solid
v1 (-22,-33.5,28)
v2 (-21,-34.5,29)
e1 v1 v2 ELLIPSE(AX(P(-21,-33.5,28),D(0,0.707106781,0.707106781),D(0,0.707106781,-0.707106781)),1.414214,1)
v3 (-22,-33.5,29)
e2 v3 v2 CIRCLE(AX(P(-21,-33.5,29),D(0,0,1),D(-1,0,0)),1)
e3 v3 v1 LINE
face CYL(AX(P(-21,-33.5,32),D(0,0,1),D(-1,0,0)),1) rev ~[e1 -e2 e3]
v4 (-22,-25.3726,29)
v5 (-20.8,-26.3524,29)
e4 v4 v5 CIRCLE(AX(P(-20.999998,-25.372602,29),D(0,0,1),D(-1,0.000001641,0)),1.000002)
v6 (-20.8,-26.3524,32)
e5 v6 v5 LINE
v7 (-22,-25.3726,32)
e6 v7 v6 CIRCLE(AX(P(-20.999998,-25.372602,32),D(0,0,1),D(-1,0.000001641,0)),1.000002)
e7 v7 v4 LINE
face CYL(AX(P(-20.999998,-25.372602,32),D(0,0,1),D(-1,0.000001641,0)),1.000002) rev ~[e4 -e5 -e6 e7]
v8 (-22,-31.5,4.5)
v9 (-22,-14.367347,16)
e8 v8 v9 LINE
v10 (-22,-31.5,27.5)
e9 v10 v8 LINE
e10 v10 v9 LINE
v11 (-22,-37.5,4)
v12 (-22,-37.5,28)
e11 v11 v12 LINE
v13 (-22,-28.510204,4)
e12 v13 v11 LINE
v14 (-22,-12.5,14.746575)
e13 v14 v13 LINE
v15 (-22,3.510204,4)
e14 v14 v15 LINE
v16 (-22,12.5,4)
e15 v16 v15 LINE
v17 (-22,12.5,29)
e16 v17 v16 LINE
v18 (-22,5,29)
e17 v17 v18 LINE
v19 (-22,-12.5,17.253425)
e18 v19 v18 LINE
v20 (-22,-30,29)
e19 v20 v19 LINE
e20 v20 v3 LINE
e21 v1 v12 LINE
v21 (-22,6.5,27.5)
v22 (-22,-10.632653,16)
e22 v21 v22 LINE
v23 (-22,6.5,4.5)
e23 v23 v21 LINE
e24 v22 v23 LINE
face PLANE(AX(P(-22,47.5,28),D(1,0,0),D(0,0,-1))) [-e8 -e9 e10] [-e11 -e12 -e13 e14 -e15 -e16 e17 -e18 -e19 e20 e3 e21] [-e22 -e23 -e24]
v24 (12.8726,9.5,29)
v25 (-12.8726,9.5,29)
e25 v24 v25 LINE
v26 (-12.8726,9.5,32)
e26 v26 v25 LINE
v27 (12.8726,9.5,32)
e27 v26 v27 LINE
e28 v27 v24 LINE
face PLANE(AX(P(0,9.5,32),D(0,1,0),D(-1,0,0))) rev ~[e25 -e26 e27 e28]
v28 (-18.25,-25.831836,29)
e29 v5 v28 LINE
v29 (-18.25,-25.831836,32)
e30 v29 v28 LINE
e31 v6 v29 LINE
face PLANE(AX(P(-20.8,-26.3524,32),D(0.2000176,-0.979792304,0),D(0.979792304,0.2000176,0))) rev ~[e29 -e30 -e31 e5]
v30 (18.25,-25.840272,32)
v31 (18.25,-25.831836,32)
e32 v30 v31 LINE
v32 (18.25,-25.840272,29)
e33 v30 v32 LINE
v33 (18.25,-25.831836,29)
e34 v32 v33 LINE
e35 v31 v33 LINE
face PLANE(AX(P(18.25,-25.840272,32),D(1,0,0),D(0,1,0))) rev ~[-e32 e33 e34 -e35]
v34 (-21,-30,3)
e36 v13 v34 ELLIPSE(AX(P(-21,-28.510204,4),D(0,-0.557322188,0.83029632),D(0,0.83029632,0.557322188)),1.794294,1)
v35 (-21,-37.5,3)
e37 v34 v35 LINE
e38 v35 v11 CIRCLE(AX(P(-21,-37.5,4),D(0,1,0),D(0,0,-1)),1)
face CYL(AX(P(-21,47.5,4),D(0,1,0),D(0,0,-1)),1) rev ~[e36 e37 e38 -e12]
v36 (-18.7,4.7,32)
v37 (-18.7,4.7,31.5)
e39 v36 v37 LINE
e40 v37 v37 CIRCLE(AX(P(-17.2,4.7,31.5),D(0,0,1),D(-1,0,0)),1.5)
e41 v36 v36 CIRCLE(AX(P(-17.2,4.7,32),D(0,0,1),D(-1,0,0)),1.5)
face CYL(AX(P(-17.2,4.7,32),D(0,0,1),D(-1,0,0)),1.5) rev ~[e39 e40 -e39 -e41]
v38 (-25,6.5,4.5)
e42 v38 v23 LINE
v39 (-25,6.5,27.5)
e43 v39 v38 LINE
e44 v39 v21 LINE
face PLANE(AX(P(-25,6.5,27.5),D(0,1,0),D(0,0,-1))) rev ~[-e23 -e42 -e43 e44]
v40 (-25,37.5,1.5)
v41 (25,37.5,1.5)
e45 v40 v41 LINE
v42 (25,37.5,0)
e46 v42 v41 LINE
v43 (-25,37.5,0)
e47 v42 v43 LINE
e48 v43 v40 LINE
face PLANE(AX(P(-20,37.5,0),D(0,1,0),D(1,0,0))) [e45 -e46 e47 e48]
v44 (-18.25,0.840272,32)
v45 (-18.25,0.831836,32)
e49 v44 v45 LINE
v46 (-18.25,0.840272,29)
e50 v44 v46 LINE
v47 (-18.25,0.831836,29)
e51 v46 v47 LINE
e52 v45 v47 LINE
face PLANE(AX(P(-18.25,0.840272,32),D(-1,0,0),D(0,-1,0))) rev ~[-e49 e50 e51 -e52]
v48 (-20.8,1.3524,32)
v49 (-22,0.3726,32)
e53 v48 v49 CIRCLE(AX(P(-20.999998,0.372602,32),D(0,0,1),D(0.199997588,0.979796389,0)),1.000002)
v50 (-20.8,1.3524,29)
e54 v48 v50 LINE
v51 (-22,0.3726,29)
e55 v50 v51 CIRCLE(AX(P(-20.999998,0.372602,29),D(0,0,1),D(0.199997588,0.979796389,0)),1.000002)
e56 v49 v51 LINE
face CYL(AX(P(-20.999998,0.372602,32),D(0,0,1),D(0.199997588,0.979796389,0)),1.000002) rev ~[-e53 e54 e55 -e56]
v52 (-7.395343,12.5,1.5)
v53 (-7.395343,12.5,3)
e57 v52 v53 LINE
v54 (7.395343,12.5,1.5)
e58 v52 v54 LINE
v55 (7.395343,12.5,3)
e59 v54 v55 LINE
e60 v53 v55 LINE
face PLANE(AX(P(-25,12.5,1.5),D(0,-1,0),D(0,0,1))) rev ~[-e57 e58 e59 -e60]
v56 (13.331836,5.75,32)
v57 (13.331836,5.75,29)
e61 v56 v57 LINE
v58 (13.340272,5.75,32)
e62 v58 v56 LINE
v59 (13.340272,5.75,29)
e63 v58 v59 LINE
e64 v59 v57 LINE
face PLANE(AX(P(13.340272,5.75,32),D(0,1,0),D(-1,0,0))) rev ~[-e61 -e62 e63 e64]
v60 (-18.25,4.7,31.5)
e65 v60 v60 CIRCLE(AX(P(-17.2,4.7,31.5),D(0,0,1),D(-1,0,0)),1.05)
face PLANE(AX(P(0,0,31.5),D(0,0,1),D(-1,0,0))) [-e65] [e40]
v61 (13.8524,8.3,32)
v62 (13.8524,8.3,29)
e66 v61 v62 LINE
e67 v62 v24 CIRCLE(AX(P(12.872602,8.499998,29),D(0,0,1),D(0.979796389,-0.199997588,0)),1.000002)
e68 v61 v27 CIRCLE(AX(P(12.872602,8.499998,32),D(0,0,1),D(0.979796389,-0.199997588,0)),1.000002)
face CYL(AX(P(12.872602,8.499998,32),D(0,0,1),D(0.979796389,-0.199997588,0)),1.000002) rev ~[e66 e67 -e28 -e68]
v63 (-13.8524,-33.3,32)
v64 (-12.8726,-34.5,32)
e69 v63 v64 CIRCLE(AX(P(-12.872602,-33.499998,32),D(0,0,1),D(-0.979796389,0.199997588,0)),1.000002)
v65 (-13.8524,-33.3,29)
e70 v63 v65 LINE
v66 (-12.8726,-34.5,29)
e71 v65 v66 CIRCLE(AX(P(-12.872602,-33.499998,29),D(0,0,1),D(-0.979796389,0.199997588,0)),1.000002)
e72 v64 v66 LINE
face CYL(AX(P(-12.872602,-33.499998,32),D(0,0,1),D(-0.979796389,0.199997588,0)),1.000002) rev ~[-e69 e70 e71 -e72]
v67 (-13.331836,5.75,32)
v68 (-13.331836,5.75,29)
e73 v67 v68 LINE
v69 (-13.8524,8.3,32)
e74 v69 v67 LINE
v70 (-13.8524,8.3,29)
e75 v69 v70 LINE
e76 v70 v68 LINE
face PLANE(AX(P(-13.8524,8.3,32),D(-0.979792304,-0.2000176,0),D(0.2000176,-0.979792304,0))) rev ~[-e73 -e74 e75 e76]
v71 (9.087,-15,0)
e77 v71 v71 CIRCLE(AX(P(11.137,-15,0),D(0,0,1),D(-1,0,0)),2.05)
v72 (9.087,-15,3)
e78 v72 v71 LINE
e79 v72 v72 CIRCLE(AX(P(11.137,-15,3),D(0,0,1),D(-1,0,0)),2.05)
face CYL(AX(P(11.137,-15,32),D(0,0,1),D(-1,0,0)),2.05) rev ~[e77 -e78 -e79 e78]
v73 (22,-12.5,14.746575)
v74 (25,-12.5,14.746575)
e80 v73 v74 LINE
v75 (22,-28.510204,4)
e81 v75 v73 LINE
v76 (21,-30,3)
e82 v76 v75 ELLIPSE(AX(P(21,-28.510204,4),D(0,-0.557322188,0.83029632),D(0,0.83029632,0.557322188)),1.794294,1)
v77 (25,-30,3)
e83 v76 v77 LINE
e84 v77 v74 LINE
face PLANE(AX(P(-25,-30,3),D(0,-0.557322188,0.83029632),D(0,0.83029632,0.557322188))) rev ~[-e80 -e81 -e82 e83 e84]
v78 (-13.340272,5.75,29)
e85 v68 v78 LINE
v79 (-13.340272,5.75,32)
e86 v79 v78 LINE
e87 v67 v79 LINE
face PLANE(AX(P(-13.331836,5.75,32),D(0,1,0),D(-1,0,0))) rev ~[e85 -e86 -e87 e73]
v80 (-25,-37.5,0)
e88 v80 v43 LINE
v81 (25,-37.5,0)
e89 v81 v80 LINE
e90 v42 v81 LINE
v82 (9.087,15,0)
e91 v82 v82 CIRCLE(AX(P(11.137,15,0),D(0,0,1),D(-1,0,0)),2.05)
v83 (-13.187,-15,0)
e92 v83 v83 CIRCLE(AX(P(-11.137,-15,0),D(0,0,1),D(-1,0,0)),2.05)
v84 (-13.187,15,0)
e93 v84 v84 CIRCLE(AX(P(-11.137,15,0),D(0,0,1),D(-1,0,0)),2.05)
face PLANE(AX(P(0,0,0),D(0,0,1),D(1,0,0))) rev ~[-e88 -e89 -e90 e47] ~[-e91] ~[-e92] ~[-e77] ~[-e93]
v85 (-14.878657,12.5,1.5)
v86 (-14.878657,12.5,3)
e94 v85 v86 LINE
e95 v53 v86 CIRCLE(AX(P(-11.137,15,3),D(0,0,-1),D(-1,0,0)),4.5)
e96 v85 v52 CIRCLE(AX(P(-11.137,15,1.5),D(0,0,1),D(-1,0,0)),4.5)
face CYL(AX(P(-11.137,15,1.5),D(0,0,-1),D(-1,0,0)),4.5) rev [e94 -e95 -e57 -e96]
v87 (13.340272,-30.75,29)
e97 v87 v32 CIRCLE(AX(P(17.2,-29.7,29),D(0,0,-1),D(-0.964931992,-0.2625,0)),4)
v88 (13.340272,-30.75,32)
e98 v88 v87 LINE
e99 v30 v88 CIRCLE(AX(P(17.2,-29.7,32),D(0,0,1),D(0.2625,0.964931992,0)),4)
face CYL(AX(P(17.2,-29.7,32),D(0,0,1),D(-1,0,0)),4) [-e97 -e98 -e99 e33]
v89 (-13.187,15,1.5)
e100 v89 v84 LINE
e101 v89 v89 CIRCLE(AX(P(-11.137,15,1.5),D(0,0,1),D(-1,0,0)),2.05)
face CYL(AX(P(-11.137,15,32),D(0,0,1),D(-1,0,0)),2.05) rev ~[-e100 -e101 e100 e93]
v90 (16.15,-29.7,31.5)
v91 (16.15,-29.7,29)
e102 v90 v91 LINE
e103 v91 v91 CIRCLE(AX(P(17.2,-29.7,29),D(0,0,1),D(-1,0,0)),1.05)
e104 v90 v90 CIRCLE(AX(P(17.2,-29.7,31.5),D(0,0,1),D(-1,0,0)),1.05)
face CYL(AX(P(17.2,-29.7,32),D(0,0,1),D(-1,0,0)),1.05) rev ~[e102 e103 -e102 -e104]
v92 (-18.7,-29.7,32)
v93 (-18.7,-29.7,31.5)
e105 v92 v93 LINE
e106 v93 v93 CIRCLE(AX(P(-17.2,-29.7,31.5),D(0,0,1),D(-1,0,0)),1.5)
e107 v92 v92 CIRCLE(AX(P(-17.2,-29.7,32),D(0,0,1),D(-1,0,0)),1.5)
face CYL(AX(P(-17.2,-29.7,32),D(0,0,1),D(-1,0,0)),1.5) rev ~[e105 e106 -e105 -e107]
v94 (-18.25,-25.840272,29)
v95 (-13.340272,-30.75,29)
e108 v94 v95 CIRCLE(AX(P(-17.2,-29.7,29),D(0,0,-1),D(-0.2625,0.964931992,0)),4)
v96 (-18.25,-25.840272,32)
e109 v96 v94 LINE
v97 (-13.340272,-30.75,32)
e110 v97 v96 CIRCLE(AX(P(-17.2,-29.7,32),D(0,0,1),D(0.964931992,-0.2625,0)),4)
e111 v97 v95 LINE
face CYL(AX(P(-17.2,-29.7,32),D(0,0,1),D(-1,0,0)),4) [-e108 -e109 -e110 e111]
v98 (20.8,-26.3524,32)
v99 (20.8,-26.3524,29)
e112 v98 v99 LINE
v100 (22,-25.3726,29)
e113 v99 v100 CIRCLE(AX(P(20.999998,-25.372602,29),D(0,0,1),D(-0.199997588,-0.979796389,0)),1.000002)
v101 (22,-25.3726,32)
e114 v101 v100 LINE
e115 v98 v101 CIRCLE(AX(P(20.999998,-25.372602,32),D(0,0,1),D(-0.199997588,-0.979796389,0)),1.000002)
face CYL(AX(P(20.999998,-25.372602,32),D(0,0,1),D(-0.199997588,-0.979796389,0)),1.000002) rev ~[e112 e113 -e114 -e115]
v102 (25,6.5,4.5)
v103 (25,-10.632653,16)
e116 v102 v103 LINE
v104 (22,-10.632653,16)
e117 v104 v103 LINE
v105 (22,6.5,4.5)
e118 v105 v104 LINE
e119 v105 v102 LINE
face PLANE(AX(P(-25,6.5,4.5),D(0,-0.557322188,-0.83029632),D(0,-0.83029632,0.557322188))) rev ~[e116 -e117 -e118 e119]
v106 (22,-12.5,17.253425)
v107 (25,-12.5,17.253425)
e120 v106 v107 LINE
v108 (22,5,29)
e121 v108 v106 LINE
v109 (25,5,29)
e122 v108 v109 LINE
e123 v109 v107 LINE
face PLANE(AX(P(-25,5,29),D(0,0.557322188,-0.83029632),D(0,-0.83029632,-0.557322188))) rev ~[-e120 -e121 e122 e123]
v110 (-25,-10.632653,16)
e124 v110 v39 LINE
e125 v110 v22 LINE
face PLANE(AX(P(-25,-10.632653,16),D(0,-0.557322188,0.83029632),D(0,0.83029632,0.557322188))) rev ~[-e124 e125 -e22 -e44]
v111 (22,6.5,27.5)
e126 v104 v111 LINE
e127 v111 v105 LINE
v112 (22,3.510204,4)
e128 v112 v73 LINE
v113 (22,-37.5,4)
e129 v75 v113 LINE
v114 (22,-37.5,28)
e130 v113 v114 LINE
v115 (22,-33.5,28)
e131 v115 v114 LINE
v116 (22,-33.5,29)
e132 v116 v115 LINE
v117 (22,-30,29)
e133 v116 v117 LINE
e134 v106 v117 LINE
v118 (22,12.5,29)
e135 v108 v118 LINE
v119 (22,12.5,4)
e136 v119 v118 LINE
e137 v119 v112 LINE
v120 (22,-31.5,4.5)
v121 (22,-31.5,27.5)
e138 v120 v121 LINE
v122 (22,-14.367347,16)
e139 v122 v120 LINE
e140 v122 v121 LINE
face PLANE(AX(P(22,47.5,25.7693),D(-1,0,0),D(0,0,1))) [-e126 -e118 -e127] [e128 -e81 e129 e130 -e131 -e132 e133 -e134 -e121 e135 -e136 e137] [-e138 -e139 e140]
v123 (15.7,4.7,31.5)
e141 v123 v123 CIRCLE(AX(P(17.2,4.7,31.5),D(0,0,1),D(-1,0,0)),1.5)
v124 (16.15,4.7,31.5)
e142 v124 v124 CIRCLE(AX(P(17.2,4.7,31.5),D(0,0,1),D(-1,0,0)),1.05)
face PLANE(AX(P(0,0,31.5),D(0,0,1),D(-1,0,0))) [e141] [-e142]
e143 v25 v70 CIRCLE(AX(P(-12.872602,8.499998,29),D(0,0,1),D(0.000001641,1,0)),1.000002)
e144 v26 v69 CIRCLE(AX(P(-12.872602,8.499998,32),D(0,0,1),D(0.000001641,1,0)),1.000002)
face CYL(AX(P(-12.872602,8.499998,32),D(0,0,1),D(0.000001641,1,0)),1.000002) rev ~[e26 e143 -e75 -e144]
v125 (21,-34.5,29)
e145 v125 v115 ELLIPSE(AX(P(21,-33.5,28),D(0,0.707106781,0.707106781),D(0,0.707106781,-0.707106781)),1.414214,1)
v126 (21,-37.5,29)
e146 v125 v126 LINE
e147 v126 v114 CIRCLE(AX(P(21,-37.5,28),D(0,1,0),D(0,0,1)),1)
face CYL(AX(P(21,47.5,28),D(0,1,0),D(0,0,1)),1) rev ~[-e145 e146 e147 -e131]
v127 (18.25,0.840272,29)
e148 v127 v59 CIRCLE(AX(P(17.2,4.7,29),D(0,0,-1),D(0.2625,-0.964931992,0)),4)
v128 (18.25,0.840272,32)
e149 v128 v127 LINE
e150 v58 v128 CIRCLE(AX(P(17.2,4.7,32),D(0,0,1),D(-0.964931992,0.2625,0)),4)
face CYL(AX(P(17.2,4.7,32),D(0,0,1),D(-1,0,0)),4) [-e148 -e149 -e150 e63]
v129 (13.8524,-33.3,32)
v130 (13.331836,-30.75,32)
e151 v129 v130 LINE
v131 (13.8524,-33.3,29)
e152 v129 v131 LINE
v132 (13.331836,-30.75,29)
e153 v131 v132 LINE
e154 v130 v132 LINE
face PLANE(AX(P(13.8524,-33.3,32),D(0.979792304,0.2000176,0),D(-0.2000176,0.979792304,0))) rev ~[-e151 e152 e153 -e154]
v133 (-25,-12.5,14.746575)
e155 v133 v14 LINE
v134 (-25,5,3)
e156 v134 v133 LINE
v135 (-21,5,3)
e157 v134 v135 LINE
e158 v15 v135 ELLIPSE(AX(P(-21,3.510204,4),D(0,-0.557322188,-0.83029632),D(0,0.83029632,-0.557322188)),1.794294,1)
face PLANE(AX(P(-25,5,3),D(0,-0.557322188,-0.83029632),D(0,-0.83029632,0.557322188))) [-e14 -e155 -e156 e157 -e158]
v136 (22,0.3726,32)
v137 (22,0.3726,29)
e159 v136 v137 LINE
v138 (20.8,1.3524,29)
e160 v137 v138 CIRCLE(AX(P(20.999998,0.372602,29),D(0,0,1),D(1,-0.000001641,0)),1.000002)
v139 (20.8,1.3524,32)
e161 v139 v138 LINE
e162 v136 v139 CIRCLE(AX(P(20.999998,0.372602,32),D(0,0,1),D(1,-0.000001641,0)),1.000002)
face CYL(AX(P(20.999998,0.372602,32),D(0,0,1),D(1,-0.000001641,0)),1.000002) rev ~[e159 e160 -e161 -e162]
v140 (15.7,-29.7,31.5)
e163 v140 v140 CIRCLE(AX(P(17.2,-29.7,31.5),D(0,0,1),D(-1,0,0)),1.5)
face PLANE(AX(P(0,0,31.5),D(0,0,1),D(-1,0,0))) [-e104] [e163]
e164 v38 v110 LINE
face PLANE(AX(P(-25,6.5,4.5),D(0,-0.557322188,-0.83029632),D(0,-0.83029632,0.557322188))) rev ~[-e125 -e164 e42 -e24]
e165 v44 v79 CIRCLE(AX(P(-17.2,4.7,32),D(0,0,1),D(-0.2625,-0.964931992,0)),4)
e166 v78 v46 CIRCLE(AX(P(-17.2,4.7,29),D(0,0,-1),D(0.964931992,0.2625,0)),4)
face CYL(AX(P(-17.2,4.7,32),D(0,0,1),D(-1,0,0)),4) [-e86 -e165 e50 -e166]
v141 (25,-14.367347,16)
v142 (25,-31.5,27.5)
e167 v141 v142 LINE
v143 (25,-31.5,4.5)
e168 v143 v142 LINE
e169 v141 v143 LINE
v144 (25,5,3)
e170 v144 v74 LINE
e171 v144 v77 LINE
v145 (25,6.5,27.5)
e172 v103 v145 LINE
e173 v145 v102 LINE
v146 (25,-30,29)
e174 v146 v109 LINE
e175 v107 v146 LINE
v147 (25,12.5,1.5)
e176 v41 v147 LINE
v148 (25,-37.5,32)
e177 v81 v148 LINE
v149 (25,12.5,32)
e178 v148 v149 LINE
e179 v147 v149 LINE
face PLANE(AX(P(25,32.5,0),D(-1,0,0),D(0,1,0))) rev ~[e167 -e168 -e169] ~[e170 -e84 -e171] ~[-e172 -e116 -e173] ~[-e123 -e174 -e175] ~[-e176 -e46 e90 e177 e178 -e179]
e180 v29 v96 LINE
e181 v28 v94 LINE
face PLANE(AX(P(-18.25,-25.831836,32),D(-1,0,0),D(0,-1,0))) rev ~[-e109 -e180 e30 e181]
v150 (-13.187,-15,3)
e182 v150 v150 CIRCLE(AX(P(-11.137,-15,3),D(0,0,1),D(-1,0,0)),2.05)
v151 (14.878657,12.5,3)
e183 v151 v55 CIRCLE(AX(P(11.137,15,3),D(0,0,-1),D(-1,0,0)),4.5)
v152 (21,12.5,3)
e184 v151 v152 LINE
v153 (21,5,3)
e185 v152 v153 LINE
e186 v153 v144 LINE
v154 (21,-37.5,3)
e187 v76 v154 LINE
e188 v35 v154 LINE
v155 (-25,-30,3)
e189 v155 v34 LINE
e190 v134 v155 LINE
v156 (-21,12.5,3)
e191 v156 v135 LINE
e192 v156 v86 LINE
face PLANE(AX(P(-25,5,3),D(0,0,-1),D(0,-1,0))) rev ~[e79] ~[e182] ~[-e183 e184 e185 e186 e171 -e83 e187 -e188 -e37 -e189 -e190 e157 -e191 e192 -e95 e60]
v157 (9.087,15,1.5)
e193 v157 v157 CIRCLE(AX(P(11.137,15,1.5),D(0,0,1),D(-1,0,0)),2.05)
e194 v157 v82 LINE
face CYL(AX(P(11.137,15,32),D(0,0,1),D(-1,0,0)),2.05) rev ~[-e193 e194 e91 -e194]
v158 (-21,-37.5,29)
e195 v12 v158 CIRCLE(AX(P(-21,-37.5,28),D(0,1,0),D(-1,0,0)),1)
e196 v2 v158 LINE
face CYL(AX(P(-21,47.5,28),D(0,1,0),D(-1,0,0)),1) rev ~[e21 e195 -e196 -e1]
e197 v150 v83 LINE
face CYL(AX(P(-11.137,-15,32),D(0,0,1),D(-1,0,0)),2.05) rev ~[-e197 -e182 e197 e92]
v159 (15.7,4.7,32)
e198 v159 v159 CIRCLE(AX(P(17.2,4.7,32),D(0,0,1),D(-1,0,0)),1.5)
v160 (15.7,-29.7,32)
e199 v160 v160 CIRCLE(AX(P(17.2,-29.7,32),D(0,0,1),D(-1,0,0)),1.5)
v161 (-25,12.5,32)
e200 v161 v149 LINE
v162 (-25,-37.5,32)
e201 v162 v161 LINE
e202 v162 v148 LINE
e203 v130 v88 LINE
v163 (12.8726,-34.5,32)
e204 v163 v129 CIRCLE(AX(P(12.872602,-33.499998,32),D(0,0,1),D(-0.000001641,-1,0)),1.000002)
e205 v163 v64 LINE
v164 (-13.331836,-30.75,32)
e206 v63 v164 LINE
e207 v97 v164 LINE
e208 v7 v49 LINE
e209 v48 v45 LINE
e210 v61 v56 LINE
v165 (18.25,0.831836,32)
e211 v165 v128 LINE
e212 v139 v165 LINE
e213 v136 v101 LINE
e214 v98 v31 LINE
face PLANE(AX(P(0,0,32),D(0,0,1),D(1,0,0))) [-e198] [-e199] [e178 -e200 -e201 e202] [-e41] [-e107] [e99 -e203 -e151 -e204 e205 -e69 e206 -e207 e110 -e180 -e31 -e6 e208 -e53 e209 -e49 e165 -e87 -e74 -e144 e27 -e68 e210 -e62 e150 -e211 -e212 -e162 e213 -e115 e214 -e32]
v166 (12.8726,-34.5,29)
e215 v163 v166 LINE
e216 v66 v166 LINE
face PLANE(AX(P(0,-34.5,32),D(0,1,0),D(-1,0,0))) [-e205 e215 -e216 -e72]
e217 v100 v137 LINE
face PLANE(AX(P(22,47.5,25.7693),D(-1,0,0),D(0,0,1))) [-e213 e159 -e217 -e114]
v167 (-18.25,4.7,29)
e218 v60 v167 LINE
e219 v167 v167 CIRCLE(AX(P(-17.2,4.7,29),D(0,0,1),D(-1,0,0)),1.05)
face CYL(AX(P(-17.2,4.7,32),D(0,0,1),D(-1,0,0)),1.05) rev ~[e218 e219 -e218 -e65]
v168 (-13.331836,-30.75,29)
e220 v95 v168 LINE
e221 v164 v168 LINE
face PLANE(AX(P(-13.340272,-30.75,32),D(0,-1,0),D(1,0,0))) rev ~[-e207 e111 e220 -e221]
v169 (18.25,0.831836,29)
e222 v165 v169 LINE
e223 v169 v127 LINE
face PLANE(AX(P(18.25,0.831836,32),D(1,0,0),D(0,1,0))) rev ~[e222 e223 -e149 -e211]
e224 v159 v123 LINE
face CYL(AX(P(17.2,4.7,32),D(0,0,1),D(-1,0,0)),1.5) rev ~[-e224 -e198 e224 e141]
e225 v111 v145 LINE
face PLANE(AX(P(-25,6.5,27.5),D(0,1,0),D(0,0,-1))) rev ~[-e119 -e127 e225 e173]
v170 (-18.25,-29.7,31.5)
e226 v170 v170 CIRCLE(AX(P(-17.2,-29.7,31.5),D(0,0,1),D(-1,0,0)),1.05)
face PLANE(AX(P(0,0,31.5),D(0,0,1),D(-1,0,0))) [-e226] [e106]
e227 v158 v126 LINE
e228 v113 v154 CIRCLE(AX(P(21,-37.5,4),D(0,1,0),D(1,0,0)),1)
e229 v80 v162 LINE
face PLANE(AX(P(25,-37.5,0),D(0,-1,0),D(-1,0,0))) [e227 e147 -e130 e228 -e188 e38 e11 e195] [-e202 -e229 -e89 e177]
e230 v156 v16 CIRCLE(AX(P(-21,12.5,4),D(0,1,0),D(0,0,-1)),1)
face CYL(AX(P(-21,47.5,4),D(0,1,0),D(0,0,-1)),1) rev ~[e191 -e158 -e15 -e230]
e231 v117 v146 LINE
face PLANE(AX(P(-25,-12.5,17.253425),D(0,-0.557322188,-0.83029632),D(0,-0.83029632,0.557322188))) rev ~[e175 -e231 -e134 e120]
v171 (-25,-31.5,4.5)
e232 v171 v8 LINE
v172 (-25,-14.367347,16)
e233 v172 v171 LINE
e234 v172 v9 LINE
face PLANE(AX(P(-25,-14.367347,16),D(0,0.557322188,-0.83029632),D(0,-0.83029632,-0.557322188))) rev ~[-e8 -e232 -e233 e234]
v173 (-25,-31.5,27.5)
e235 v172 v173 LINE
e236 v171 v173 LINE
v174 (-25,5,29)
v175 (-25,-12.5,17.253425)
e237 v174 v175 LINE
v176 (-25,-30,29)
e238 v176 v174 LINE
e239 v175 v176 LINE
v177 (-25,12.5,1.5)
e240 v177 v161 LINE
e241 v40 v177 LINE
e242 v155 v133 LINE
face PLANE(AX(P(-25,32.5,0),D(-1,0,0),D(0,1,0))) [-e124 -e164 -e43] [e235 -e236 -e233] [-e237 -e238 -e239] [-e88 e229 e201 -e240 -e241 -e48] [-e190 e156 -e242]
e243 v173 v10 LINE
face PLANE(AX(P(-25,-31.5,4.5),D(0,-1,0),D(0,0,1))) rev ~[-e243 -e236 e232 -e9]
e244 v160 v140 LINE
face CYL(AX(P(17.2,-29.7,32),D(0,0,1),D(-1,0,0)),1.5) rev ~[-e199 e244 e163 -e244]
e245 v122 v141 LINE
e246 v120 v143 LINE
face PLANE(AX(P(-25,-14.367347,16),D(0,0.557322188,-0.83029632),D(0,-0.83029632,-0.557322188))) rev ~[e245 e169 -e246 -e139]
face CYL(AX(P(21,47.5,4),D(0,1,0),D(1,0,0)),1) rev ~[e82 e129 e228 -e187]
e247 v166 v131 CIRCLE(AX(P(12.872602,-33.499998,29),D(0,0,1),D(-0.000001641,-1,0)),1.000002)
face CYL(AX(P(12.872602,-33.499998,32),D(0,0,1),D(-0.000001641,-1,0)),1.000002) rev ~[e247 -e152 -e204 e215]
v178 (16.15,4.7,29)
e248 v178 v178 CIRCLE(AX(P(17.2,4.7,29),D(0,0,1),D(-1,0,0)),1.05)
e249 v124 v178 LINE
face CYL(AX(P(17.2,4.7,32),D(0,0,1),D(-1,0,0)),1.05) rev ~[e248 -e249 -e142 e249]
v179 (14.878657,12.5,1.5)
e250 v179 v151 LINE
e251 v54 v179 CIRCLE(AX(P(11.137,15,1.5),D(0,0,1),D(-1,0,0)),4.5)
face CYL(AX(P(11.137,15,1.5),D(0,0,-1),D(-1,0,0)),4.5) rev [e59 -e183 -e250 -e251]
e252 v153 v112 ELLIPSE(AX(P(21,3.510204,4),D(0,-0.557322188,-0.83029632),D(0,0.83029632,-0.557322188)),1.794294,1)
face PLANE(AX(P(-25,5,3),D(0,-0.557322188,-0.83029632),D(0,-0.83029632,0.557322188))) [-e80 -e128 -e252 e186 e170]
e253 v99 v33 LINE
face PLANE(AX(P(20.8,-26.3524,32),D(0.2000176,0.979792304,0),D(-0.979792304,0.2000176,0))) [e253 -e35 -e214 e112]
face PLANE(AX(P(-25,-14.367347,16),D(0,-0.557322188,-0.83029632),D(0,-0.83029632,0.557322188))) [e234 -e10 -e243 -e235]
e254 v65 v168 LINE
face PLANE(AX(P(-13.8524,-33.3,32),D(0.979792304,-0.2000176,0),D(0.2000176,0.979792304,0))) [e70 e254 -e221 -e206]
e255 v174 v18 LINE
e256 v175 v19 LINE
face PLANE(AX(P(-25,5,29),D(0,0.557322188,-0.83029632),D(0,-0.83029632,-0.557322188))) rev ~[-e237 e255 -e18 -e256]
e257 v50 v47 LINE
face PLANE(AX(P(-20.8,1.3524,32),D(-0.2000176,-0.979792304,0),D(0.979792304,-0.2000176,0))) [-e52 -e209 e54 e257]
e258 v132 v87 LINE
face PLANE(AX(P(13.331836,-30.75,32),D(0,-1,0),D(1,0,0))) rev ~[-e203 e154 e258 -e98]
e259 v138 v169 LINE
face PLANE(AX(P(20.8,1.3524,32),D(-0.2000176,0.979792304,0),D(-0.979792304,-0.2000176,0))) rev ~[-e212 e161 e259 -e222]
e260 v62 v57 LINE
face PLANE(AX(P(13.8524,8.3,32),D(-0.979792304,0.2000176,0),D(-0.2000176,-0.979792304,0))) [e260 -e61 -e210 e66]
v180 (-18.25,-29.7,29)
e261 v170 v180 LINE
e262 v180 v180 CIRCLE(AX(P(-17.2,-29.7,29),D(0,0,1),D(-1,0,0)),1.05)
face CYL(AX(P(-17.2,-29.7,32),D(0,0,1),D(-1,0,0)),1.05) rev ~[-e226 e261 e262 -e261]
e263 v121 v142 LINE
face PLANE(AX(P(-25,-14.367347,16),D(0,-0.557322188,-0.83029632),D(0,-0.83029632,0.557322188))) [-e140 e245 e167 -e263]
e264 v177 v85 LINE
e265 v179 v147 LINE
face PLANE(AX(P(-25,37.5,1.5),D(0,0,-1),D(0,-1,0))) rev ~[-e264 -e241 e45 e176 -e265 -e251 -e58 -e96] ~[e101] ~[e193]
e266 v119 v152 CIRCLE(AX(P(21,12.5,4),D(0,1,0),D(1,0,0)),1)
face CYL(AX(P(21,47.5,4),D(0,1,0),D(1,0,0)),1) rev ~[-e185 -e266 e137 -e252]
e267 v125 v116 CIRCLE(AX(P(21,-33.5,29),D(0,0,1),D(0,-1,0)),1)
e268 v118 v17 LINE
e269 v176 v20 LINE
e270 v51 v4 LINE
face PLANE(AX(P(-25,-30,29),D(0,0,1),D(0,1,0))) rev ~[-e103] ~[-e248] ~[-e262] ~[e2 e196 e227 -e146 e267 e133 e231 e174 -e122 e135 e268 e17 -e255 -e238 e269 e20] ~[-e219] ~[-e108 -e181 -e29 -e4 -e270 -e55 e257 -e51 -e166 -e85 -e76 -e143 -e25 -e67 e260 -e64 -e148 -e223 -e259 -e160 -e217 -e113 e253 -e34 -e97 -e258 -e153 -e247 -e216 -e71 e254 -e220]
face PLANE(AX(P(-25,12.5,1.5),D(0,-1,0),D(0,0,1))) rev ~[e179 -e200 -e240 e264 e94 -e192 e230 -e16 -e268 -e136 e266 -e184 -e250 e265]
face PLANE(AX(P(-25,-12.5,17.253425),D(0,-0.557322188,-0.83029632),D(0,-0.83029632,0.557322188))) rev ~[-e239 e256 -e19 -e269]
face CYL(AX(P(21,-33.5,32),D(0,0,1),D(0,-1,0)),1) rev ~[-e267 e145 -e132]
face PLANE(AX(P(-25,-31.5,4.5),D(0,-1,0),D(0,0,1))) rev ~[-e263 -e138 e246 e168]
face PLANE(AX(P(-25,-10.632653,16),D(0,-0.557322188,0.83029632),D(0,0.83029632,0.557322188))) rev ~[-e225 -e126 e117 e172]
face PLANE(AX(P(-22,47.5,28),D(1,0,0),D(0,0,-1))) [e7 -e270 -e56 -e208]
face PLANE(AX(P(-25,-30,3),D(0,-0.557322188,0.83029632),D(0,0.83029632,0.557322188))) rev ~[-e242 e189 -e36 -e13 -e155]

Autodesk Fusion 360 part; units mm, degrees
sketch "Esboço1" plane through (0, 0, 0) normal (0, 0, 1) x (1, 0, 0)
  line L0 (-20, 37.5) -> (20, 37.5)
  line L1 (25, 32.5) -> (25, -37.5)
  line L2 (25, -37.5) -> (-25, -37.5)
  line L3 (-25, -37.5) -> (-25, 32.5)
  line L4 (-25, 37.5) -> (25, -37.5) construction
  line L5 (25, 37.5) -> (-25, -37.5) construction
  line L6 (-25, 32.5) -> (-25, 37.5)
  line L7 (-20, 37.5) -> (-25, 37.5)
  line L8 (20, 37.5) -> (25, 37.5)
  line L9 (25, 32.5) -> (25, 37.5)
  dimension "d1" = 50
  dimension "d2" = 75
extrude "Extrusão1" add sketch "Esboço1" along normal blind 32
sketch "Esboço2" plane through (0, 0, 32) normal (0, 0, 1) x (-1, 0, 0)
  line L0 (-25, 37.5) -> (-25, -37.5)
  line L1 (-25, -37.5) -> (25, -37.5)
  line L2 (25, -37.5) -> (25, 37.5)
  line L3 (25, 37.5) -> (-25, 37.5)
  circle A0 centre (11.137, -15) radius 2.05
  circle A1 centre (-11.137, -15) radius 2.05
  circle A2 centre (11.137, 15) radius 2.05
  circle A3 centre (-11.137, 15) radius 2.05
  dimension "d6" = 4.1
  dimension "d7" = 4.1
  dimension "d8" = 4.1
  dimension "d9" = 4.1
  dimension "d10" = 22.274
  dimension "d11" = 13.863
  dimension "d12" = 13.863
  dimension "d13" = 22.274
  dimension "d14" = 30
  dimension "d15" = 22.5
extrude "Extrusão2" cut sketch "Esboço2" against normal blind 45 contours A0 | A1 | A2 | A3
ref_plane "Plano de trabalho3" through (0, 47.5, 16) normal (0, 1, 0) x (-1, 0, 0)
sketch "Esboço9" plane through (0, 47.5, 0) normal (0, 1, 0) x (-1, 0, 0)
  line L0 (-25, 0) -> (25, 0)
  line L1 (25, 0) -> (25, 32)
  line L2 (25, 32) -> (-25, 32)
  line L3 (-25, 32) -> (-25, 0)
  line L4 (16.763, 29) -> (-16.763, 29)
  line L5 (-22, 25.7693) -> (-22, 6.2307)
  line L6 (-16.763, 3) -> (16.763, 3)
  line L7 (21, 3) -> (-21, 3)
  line L8 (-22, 4) -> (-22, 28)
  line L9 (-21, 29) -> (21, 29)
  line L10 (22, 28) -> (22, 4)
  arc A0 (-21, 29) -> (-22, 28) centre (-21, 28) ccw
  arc A1 (22, 28) -> (21, 29) centre (21, 28) ccw
  arc A2 (21, 3) -> (22, 4) centre (21, 4) ccw
  arc A3 (-22, 4) -> (-21, 3) centre (-21, 4) ccw
  line L11 (-25, 0) -> (25, 0)
  line L12 (25, 0) -> (25, 32)
  line L13 (25, 32) -> (-25, 32)
  line L14 (-25, 32) -> (-25, 0)
  dimension "d156" = 1
extrude "Extrusão9" cut sketch "Esboço9" against normal blind 96 contours L4 L5 L6 L7 L8 L9 L10 A0 A1 A2 A3
sketch "Esboço12" plane through (0, 0, 32) normal (0, 0, 1) x (-1, 0, 0)
  circle A0 centre (11.137, -15) radius 2.05
  circle A1 centre (11.137, 15) radius 2.05
  circle A2 centre (-11.137, -15) radius 2.05
  circle A3 centre (-11.137, 15) radius 2.05
  line L0 (-25, 37.5) -> (-25, -37.5)
  line L1 (-25, -37.5) -> (25, -37.5)
  line L2 (25, -37.5) -> (25, 37.5)
  line L3 (25, 37.5) -> (-25, 37.5)
  line L4 (21, 34.5) -> (-21, 34.5)
  line L5 (-22, 33.5) -> (-22, -33.5)
  line L6 (-21, -34.5) -> (21, -34.5)
  line L7 (22, -33.5) -> (22, 33.5)
  line L8 (22, 34.5) -> (-22, -34.5) construction
  line L9 (-22, 34.5) -> (22, -34.5) construction
  arc A4 (-21, 34.5) -> (-22, 33.5) centre (-21, 33.5) ccw
  arc A5 (22, 33.5) -> (21, 34.5) centre (21, 33.5) ccw
  arc A6 (21, -34.5) -> (22, -33.5) centre (21, -33.5) ccw
  arc A7 (-22, -33.5) -> (-21, -34.5) centre (-21, -33.5) ccw
  dimension "d118" = 44
  dimension "d119" = 69
  dimension "d120" = 1
extrude "Extrusão13" cut sketch "Esboço12" against normal blind 5 contours L4 L5 L6 L7 A4 A5 A6 A7
sketch "Esboço13" plane through (0, 0, 32) normal (0, 0, 1) x (-1, 0, 0)
  line L0 (21, -34.5) -> (-21, -34.5)
  arc A0 (-22, -33.5) -> (-21, -34.5) centre (-21, -33.5) ccw
  line L1 (-22, -33.5) -> (-22, 33.5)
  arc A1 (-21, 34.5) -> (-22, 33.5) centre (-21, 33.5) ccw
  line L2 (-21, 34.5) -> (21, 34.5)
  arc A2 (22, 33.5) -> (21, 34.5) centre (21, 33.5) ccw
  line L3 (22, 33.5) -> (22, -33.5)
  arc A3 (21, -34.5) -> (22, -33.5) centre (21, -33.5) ccw
  line L4 (-25, 37.5) -> (-25, -37.5)
  line L5 (-25, -37.5) -> (25, -37.5)
  line L6 (25, -37.5) -> (25, 37.5)
  line L7 (25, 37.5) -> (-25, 37.5)
  circle A4 centre (-17.2, 29.7) radius 1.05
  line L8 (-13.8524, -8.3) -> (-13.2808, -5.5)
  circle A5 centre (-17.2, 29.7) radius 4
  arc A6 (-22, -0.3726) -> (-20.8, -1.3524) centre (-21, -0.3726) ccw
  circle A7 centre (-17.2, -4.7) radius 4
  line L9 (20.8, -1.3524) -> (18, -0.7808)
  line L10 (-22, 25.3726) -> (-22, -0.3726)
  line L11 (12.8726, 34.5) -> (-12.8726, 34.5)
  arc A8 (13.8524, 33.3) -> (12.8726, 34.5) centre (12.8726, 33.5) ccw
  line L12 (20.8, 26.3524) -> (18, 25.7808)
  arc A9 (12.8726, -9.5) -> (13.8524, -8.3) centre (12.8726, -8.5) ccw
  circle A10 centre (17.2, 29.7) radius 4
  line L13 (-20.8, -1.3524) -> (-18, -0.7808)
  arc A11 (25, 32.5) -> (20, 37.5) centre (20, 32.5) ccw
  circle A12 centre (17.2, -4.7) radius 1.05
  line L14 (0, -15) -> (0, 40)
  line L15 (-13.8524, 33.3) -> (-13.2808, 30.5)
  line L16 (-25, 32.5) -> (-25, -17.5)
  line L17 (-12.8726, -9.5) -> (12.8726, -9.5)
  line L18 (-18.25, 30.75) -> (18.25, -5.75) construction
  line L19 (-22, 34.5) -> (22, -9.5) construction
  line L20 (-18.25, -5.75) -> (18.25, -5.75)
  line L21 (22, 34.5) -> (-22, -9.5) construction
  arc A13 (22, 25.3726) -> (20.8, 26.3524) centre (21, 25.3726) ccw
  circle A14 centre (17.2, -4.7) radius 4
  line L22 (22, -0.3726) -> (22, 25.3726)
  line L23 (13.8524, 33.3) -> (13.2808, 30.5)
  circle A15 centre (17.2, 29.7) radius 1.05
  line L24 (18.25, -5.75) -> (18.25, 30.75)
  line L25 (18.25, 30.75) -> (-18.25, 30.75)
  line L26 (18.25, 30.75) -> (-18.25, -5.75) construction
  line L27 (-25, -17.5) -> (25, -17.5)
  arc A16 (-13.8524, -8.3) -> (-12.8726, -9.5) centre (-12.8726, -8.5) ccw
  line L28 (13.8524, -8.3) -> (13.2808, -5.5)
  arc A17 (-20, 37.5) -> (-25, 32.5) centre (-20, 32.5) ccw
  line L29 (25, -17.5) -> (25, 32.5)
  circle A18 centre (-17.2, -4.7) radius 1.05
  line L30 (-20.8, 26.3524) -> (-18, 25.7808)
  line L31 (-18.25, 30.75) -> (-18.25, -5.75)
  arc A19 (20.8, -1.3524) -> (22, -0.3726) centre (21, -0.3726) ccw
  arc A20 (-20.8, 26.3524) -> (-22, 25.3726) centre (-21, 25.3726) ccw
  arc A21 (-12.8726, 34.5) -> (-13.8524, 33.3) centre (-12.8726, 33.5) ccw
  line L32 (44.2599, -12.5) -> (-40.6438, -12.5)
  point P0 (22, -1.5973)
  point P1 (14.0973, -9.5)
  point P2 (-22, 26.5973)
  point P3 (22, 26.5973)
  point P4 (14.0973, 34.5)
  point P5 (-22, -1.5973)
  point P6 (-14.0973, -9.5)
  point P7 (0, 12.5)
  point P8 (0, -15)
  point P9 (0, 12.5)
  point P10 (-14.0973, 34.5)
  dimension "d123" = 36.5
  dimension "d124" = 36.5
  dimension "d125" = 2.1
  dimension "d126" = 2.1
  dimension "d127" = 2.1
  dimension "d128" = 2.1
  dimension "d129" = 44
  dimension "d130" = 44
  dimension "d131" = 8
  dimension "d132" = 8
  dimension "d133" = 8
  dimension "d134" = 8
  dimension "d135" = 4
  dimension "d136" = 4
  dimension "d137" = 4
  dimension "d138" = 4
  dimension "d139" = 4
  dimension "d140" = 4
  dimension "d141" = 4
  dimension "d142" = 4
  dimension "d143" = 1
  dimension "d144" = 3
  dimension "d145" = 3
extrude "Extrusão14" add sketch "Esboço13" against normal blind 3 contours L3 L9 A9 L14 L17 L20 A14 L24 L28 A19 L32 | L2 A2 L3 L6 L7 L11 A11 L14 L22 L29 L32 | L1 A1 L2 L4 L7 L10 L11 L14 L16 A17 L32 | L1 L8 A6 A7 L13 L14 L17 L20 A16 L31 L32 | L2 A2 L3 A8 L12 A10 A13 L23 L24 L25 | L1 A1 L2 A5 L15 L25 L30 L31 A20 A21 | A12 L20 A14 L24 | L20 A14 L24 | A7 L20 A18 L31 | A7 L20 L31 | A10 A15 L24 L25 | A10 L24 L25 | A12 L20 L24 | A4 A5 L25 L31 | A5 L25 L31 | L20 A18 L31 | A15 L24 L25 | A4 L25 L31
sketch "Esboço14" plane through (0, 0, 32) normal (0, 0, 1) x (-1, 0, 0)
  line L0 (22, -12.5) -> (22, -33.5)
  arc A0 (21, -34.5) -> (22, -33.5) centre (21, -33.5) ccw
  line L1 (21, -34.5) -> (-21, -34.5)
  arc A1 (-22, -33.5) -> (-21, -34.5) centre (-21, -33.5) ccw
  line L2 (-22, -33.5) -> (-22, -12.5)
  line L3 (-22, -12.5) -> (22, -12.5)
  circle A2 centre (17.2, -4.7) radius 1.05
  circle A3 centre (-17.2, -4.7) radius 1.05
  circle A4 centre (17.2, 29.7) radius 1.05
  circle A5 centre (-17.2, 29.7) radius 1.05
  arc A6 (20.8, -1.3524) -> (22, -0.3726) centre (21, -0.3726) ccw
  line L4 (20.8, -1.3524) -> (18.25, -0.8318)
  line L5 (18.25, -0.8318) -> (18.25, -0.8403)
  arc A7 (18.25, -0.8403) -> (13.3403, -5.75) centre (17.2, -4.7) ccw
  line L6 (13.3403, -5.75) -> (13.3318, -5.75)
  line L7 (13.3318, -5.75) -> (13.8524, -8.3)
  arc A8 (12.8726, -9.5) -> (13.8524, -8.3) centre (12.8726, -8.5) ccw
  line L8 (12.8726, -9.5) -> (-12.8726, -9.5)
  arc A9 (-13.8524, -8.3) -> (-12.8726, -9.5) centre (-12.8726, -8.5) ccw
  line L9 (-13.8524, -8.3) -> (-13.3318, -5.75)
  line L10 (-13.3318, -5.75) -> (-13.3403, -5.75)
  arc A10 (-13.3403, -5.75) -> (-18.25, -0.8403) centre (-17.2, -4.7) ccw
  line L11 (-18.25, -0.8403) -> (-18.25, -0.8318)
  line L12 (-18.25, -0.8318) -> (-20.8, -1.3524)
  arc A11 (-22, -0.3726) -> (-20.8, -1.3524) centre (-21, -0.3726) ccw
  line L13 (-22, -0.3726) -> (-22, 25.3726)
  arc A12 (-20.8, 26.3524) -> (-22, 25.3726) centre (-21, 25.3726) ccw
  line L14 (-20.8, 26.3524) -> (-18.25, 25.8318)
  line L15 (-18.25, 25.8318) -> (-18.25, 25.8403)
  arc A13 (-18.25, 25.8403) -> (-13.3403, 30.75) centre (-17.2, 29.7) ccw
  line L16 (-13.3403, 30.75) -> (-13.3318, 30.75)
  line L17 (-13.3318, 30.75) -> (-13.8524, 33.3)
  arc A14 (-12.8726, 34.5) -> (-13.8524, 33.3) centre (-12.8726, 33.5) ccw
  line L18 (-12.8726, 34.5) -> (12.8726, 34.5)
  arc A15 (13.8524, 33.3) -> (12.8726, 34.5) centre (12.8726, 33.5) ccw
  line L19 (13.8524, 33.3) -> (13.3318, 30.75)
  line L20 (13.3318, 30.75) -> (13.3403, 30.75)
  arc A16 (13.3403, 30.75) -> (18.25, 25.8403) centre (17.2, 29.7) ccw
  line L21 (18.25, 25.8403) -> (18.25, 25.8318)
  line L22 (18.25, 25.8318) -> (20.8, 26.3524)
  arc A17 (22, 25.3726) -> (20.8, 26.3524) centre (21, 25.3726) ccw
  line L23 (22, 25.3726) -> (22, -0.3726)
  line L24 (25, -37.5) -> (25, 37.5)
  line L25 (25, 37.5) -> (-25, 37.5)
  line L26 (-25, 37.5) -> (-25, -37.5)
  line L27 (-25, -37.5) -> (25, -37.5)
  circle A18 centre (17.2, 29.7) radius 1.5
  circle A19 centre (17.2, -4.7) radius 1.5
  circle A20 centre (-17.2, -4.7) radius 1.5
  circle A21 centre (-17.2, 29.7) radius 1.5
  dimension "d150" = 3
  dimension "d151" = 3
  dimension "d152" = 3
  dimension "d153" = 3
extrude "Extrusão15" cut sketch "Esboço14" against normal blind 0.5 contours A18 | A19 | A20 | A21
sketch "Esboço15" plane through (-25, 0, 0) normal (-1, 0, 0) x (0, -1, 0)
  line L0 (37.5, 32) -> (-37.5, 32)
  line L1 (-37.5, 32) -> (-37.5, 0)
  line L2 (-37.5, 0) -> (37.5, 0)
  line L3 (37.5, 0) -> (37.5, 32)
  line L4 (-9.5, 32) -> (34.5, 32)
  line L5 (34.5, 32) -> (34.5, 0)
  line L6 (34.5, 0) -> (-9.5, 0)
  line L7 (-9.5, 0) -> (-9.5, 32)
  line L8 (31.5, 29) -> (-6.5, 29)
  line L9 (-6.5, 29) -> (-6.5, 3)
  line L10 (-6.5, 3) -> (31.5, 3)
  line L11 (31.5, 3) -> (31.5, 29)
  line L12 (31.5, 29) -> (-6.5, 3) construction
  line L13 (-6.5, 29) -> (31.5, 3) construction
  circle A0 centre (-6.5, 29) radius 1.5
  circle A1 centre (31.5, 29) radius 1.5
  circle A2 centre (31.5, 3) radius 1.5
  circle A3 centre (-6.5, 3) radius 1.5
  line L14 (-5, 3) -> (31.5, 27.5)
  line L15 (-6.5, 4.5) -> (30, 29)
  line L16 (-5, 29) -> (31.5, 4.5)
  line L17 (30, 3) -> (-6.5, 27.5)
  line L18 (-12.5, 32) -> (-42.5, 32)
  line L19 (-42.5, 32) -> (-42.5, 1.5)
  line L20 (-42.5, 1.5) -> (-12.5, 1.5)
  line L21 (-12.5, 1.5) -> (-12.5, 32)
  point P0 (-9.5, 32)
  point P1 (34.5, 32)
  point P2 (12.5, 16)
  point P3 (-12.5, 32)
  dimension "d158" = 44
  dimension "d159" = 32
  dimension "d160" = 38
  dimension "d162" = 3
  dimension "d163" = 3
  dimension "d164" = 3
  dimension "d165" = 3
  dimension "d172" = 30
  dimension "d173" = 30.5
extrude "Extrusão16" cut sketch "Esboço15" against normal blind 60 contours L0 L1 L18 L20 L21 | L8 L15 L16 | L11 L14 L16 | L9 L15 L17 | L10 L14 L17
sketch "Esboço16" plane through (0, 0, 1.5) normal (0, 0, 1) x (-1, 0, 0)
  line L0 (-25, -12.5) -> (-25, -37.5)
  line L1 (-25, -37.5) -> (25, -37.5)
  line L2 (25, -37.5) -> (25, -12.5)
  line L3 (25, -12.5) -> (-25, -12.5)
  circle A0 centre (-11.137, -15) radius 2.05
  circle A1 centre (11.137, -15) radius 2.05
  circle A2 centre (-11.137, -15) radius 4.5
  circle A3 centre (11.137, -15) radius 4.5
  dimension "d174" = 9
  dimension "d175" = 9
extrude "Extrusão17" cut sketch "Esboço16" along normal blind 3 contours L3 A2 | L3 A3 picked at (-11.703, -11.4131) picked at (10.2449, -11.6515)
